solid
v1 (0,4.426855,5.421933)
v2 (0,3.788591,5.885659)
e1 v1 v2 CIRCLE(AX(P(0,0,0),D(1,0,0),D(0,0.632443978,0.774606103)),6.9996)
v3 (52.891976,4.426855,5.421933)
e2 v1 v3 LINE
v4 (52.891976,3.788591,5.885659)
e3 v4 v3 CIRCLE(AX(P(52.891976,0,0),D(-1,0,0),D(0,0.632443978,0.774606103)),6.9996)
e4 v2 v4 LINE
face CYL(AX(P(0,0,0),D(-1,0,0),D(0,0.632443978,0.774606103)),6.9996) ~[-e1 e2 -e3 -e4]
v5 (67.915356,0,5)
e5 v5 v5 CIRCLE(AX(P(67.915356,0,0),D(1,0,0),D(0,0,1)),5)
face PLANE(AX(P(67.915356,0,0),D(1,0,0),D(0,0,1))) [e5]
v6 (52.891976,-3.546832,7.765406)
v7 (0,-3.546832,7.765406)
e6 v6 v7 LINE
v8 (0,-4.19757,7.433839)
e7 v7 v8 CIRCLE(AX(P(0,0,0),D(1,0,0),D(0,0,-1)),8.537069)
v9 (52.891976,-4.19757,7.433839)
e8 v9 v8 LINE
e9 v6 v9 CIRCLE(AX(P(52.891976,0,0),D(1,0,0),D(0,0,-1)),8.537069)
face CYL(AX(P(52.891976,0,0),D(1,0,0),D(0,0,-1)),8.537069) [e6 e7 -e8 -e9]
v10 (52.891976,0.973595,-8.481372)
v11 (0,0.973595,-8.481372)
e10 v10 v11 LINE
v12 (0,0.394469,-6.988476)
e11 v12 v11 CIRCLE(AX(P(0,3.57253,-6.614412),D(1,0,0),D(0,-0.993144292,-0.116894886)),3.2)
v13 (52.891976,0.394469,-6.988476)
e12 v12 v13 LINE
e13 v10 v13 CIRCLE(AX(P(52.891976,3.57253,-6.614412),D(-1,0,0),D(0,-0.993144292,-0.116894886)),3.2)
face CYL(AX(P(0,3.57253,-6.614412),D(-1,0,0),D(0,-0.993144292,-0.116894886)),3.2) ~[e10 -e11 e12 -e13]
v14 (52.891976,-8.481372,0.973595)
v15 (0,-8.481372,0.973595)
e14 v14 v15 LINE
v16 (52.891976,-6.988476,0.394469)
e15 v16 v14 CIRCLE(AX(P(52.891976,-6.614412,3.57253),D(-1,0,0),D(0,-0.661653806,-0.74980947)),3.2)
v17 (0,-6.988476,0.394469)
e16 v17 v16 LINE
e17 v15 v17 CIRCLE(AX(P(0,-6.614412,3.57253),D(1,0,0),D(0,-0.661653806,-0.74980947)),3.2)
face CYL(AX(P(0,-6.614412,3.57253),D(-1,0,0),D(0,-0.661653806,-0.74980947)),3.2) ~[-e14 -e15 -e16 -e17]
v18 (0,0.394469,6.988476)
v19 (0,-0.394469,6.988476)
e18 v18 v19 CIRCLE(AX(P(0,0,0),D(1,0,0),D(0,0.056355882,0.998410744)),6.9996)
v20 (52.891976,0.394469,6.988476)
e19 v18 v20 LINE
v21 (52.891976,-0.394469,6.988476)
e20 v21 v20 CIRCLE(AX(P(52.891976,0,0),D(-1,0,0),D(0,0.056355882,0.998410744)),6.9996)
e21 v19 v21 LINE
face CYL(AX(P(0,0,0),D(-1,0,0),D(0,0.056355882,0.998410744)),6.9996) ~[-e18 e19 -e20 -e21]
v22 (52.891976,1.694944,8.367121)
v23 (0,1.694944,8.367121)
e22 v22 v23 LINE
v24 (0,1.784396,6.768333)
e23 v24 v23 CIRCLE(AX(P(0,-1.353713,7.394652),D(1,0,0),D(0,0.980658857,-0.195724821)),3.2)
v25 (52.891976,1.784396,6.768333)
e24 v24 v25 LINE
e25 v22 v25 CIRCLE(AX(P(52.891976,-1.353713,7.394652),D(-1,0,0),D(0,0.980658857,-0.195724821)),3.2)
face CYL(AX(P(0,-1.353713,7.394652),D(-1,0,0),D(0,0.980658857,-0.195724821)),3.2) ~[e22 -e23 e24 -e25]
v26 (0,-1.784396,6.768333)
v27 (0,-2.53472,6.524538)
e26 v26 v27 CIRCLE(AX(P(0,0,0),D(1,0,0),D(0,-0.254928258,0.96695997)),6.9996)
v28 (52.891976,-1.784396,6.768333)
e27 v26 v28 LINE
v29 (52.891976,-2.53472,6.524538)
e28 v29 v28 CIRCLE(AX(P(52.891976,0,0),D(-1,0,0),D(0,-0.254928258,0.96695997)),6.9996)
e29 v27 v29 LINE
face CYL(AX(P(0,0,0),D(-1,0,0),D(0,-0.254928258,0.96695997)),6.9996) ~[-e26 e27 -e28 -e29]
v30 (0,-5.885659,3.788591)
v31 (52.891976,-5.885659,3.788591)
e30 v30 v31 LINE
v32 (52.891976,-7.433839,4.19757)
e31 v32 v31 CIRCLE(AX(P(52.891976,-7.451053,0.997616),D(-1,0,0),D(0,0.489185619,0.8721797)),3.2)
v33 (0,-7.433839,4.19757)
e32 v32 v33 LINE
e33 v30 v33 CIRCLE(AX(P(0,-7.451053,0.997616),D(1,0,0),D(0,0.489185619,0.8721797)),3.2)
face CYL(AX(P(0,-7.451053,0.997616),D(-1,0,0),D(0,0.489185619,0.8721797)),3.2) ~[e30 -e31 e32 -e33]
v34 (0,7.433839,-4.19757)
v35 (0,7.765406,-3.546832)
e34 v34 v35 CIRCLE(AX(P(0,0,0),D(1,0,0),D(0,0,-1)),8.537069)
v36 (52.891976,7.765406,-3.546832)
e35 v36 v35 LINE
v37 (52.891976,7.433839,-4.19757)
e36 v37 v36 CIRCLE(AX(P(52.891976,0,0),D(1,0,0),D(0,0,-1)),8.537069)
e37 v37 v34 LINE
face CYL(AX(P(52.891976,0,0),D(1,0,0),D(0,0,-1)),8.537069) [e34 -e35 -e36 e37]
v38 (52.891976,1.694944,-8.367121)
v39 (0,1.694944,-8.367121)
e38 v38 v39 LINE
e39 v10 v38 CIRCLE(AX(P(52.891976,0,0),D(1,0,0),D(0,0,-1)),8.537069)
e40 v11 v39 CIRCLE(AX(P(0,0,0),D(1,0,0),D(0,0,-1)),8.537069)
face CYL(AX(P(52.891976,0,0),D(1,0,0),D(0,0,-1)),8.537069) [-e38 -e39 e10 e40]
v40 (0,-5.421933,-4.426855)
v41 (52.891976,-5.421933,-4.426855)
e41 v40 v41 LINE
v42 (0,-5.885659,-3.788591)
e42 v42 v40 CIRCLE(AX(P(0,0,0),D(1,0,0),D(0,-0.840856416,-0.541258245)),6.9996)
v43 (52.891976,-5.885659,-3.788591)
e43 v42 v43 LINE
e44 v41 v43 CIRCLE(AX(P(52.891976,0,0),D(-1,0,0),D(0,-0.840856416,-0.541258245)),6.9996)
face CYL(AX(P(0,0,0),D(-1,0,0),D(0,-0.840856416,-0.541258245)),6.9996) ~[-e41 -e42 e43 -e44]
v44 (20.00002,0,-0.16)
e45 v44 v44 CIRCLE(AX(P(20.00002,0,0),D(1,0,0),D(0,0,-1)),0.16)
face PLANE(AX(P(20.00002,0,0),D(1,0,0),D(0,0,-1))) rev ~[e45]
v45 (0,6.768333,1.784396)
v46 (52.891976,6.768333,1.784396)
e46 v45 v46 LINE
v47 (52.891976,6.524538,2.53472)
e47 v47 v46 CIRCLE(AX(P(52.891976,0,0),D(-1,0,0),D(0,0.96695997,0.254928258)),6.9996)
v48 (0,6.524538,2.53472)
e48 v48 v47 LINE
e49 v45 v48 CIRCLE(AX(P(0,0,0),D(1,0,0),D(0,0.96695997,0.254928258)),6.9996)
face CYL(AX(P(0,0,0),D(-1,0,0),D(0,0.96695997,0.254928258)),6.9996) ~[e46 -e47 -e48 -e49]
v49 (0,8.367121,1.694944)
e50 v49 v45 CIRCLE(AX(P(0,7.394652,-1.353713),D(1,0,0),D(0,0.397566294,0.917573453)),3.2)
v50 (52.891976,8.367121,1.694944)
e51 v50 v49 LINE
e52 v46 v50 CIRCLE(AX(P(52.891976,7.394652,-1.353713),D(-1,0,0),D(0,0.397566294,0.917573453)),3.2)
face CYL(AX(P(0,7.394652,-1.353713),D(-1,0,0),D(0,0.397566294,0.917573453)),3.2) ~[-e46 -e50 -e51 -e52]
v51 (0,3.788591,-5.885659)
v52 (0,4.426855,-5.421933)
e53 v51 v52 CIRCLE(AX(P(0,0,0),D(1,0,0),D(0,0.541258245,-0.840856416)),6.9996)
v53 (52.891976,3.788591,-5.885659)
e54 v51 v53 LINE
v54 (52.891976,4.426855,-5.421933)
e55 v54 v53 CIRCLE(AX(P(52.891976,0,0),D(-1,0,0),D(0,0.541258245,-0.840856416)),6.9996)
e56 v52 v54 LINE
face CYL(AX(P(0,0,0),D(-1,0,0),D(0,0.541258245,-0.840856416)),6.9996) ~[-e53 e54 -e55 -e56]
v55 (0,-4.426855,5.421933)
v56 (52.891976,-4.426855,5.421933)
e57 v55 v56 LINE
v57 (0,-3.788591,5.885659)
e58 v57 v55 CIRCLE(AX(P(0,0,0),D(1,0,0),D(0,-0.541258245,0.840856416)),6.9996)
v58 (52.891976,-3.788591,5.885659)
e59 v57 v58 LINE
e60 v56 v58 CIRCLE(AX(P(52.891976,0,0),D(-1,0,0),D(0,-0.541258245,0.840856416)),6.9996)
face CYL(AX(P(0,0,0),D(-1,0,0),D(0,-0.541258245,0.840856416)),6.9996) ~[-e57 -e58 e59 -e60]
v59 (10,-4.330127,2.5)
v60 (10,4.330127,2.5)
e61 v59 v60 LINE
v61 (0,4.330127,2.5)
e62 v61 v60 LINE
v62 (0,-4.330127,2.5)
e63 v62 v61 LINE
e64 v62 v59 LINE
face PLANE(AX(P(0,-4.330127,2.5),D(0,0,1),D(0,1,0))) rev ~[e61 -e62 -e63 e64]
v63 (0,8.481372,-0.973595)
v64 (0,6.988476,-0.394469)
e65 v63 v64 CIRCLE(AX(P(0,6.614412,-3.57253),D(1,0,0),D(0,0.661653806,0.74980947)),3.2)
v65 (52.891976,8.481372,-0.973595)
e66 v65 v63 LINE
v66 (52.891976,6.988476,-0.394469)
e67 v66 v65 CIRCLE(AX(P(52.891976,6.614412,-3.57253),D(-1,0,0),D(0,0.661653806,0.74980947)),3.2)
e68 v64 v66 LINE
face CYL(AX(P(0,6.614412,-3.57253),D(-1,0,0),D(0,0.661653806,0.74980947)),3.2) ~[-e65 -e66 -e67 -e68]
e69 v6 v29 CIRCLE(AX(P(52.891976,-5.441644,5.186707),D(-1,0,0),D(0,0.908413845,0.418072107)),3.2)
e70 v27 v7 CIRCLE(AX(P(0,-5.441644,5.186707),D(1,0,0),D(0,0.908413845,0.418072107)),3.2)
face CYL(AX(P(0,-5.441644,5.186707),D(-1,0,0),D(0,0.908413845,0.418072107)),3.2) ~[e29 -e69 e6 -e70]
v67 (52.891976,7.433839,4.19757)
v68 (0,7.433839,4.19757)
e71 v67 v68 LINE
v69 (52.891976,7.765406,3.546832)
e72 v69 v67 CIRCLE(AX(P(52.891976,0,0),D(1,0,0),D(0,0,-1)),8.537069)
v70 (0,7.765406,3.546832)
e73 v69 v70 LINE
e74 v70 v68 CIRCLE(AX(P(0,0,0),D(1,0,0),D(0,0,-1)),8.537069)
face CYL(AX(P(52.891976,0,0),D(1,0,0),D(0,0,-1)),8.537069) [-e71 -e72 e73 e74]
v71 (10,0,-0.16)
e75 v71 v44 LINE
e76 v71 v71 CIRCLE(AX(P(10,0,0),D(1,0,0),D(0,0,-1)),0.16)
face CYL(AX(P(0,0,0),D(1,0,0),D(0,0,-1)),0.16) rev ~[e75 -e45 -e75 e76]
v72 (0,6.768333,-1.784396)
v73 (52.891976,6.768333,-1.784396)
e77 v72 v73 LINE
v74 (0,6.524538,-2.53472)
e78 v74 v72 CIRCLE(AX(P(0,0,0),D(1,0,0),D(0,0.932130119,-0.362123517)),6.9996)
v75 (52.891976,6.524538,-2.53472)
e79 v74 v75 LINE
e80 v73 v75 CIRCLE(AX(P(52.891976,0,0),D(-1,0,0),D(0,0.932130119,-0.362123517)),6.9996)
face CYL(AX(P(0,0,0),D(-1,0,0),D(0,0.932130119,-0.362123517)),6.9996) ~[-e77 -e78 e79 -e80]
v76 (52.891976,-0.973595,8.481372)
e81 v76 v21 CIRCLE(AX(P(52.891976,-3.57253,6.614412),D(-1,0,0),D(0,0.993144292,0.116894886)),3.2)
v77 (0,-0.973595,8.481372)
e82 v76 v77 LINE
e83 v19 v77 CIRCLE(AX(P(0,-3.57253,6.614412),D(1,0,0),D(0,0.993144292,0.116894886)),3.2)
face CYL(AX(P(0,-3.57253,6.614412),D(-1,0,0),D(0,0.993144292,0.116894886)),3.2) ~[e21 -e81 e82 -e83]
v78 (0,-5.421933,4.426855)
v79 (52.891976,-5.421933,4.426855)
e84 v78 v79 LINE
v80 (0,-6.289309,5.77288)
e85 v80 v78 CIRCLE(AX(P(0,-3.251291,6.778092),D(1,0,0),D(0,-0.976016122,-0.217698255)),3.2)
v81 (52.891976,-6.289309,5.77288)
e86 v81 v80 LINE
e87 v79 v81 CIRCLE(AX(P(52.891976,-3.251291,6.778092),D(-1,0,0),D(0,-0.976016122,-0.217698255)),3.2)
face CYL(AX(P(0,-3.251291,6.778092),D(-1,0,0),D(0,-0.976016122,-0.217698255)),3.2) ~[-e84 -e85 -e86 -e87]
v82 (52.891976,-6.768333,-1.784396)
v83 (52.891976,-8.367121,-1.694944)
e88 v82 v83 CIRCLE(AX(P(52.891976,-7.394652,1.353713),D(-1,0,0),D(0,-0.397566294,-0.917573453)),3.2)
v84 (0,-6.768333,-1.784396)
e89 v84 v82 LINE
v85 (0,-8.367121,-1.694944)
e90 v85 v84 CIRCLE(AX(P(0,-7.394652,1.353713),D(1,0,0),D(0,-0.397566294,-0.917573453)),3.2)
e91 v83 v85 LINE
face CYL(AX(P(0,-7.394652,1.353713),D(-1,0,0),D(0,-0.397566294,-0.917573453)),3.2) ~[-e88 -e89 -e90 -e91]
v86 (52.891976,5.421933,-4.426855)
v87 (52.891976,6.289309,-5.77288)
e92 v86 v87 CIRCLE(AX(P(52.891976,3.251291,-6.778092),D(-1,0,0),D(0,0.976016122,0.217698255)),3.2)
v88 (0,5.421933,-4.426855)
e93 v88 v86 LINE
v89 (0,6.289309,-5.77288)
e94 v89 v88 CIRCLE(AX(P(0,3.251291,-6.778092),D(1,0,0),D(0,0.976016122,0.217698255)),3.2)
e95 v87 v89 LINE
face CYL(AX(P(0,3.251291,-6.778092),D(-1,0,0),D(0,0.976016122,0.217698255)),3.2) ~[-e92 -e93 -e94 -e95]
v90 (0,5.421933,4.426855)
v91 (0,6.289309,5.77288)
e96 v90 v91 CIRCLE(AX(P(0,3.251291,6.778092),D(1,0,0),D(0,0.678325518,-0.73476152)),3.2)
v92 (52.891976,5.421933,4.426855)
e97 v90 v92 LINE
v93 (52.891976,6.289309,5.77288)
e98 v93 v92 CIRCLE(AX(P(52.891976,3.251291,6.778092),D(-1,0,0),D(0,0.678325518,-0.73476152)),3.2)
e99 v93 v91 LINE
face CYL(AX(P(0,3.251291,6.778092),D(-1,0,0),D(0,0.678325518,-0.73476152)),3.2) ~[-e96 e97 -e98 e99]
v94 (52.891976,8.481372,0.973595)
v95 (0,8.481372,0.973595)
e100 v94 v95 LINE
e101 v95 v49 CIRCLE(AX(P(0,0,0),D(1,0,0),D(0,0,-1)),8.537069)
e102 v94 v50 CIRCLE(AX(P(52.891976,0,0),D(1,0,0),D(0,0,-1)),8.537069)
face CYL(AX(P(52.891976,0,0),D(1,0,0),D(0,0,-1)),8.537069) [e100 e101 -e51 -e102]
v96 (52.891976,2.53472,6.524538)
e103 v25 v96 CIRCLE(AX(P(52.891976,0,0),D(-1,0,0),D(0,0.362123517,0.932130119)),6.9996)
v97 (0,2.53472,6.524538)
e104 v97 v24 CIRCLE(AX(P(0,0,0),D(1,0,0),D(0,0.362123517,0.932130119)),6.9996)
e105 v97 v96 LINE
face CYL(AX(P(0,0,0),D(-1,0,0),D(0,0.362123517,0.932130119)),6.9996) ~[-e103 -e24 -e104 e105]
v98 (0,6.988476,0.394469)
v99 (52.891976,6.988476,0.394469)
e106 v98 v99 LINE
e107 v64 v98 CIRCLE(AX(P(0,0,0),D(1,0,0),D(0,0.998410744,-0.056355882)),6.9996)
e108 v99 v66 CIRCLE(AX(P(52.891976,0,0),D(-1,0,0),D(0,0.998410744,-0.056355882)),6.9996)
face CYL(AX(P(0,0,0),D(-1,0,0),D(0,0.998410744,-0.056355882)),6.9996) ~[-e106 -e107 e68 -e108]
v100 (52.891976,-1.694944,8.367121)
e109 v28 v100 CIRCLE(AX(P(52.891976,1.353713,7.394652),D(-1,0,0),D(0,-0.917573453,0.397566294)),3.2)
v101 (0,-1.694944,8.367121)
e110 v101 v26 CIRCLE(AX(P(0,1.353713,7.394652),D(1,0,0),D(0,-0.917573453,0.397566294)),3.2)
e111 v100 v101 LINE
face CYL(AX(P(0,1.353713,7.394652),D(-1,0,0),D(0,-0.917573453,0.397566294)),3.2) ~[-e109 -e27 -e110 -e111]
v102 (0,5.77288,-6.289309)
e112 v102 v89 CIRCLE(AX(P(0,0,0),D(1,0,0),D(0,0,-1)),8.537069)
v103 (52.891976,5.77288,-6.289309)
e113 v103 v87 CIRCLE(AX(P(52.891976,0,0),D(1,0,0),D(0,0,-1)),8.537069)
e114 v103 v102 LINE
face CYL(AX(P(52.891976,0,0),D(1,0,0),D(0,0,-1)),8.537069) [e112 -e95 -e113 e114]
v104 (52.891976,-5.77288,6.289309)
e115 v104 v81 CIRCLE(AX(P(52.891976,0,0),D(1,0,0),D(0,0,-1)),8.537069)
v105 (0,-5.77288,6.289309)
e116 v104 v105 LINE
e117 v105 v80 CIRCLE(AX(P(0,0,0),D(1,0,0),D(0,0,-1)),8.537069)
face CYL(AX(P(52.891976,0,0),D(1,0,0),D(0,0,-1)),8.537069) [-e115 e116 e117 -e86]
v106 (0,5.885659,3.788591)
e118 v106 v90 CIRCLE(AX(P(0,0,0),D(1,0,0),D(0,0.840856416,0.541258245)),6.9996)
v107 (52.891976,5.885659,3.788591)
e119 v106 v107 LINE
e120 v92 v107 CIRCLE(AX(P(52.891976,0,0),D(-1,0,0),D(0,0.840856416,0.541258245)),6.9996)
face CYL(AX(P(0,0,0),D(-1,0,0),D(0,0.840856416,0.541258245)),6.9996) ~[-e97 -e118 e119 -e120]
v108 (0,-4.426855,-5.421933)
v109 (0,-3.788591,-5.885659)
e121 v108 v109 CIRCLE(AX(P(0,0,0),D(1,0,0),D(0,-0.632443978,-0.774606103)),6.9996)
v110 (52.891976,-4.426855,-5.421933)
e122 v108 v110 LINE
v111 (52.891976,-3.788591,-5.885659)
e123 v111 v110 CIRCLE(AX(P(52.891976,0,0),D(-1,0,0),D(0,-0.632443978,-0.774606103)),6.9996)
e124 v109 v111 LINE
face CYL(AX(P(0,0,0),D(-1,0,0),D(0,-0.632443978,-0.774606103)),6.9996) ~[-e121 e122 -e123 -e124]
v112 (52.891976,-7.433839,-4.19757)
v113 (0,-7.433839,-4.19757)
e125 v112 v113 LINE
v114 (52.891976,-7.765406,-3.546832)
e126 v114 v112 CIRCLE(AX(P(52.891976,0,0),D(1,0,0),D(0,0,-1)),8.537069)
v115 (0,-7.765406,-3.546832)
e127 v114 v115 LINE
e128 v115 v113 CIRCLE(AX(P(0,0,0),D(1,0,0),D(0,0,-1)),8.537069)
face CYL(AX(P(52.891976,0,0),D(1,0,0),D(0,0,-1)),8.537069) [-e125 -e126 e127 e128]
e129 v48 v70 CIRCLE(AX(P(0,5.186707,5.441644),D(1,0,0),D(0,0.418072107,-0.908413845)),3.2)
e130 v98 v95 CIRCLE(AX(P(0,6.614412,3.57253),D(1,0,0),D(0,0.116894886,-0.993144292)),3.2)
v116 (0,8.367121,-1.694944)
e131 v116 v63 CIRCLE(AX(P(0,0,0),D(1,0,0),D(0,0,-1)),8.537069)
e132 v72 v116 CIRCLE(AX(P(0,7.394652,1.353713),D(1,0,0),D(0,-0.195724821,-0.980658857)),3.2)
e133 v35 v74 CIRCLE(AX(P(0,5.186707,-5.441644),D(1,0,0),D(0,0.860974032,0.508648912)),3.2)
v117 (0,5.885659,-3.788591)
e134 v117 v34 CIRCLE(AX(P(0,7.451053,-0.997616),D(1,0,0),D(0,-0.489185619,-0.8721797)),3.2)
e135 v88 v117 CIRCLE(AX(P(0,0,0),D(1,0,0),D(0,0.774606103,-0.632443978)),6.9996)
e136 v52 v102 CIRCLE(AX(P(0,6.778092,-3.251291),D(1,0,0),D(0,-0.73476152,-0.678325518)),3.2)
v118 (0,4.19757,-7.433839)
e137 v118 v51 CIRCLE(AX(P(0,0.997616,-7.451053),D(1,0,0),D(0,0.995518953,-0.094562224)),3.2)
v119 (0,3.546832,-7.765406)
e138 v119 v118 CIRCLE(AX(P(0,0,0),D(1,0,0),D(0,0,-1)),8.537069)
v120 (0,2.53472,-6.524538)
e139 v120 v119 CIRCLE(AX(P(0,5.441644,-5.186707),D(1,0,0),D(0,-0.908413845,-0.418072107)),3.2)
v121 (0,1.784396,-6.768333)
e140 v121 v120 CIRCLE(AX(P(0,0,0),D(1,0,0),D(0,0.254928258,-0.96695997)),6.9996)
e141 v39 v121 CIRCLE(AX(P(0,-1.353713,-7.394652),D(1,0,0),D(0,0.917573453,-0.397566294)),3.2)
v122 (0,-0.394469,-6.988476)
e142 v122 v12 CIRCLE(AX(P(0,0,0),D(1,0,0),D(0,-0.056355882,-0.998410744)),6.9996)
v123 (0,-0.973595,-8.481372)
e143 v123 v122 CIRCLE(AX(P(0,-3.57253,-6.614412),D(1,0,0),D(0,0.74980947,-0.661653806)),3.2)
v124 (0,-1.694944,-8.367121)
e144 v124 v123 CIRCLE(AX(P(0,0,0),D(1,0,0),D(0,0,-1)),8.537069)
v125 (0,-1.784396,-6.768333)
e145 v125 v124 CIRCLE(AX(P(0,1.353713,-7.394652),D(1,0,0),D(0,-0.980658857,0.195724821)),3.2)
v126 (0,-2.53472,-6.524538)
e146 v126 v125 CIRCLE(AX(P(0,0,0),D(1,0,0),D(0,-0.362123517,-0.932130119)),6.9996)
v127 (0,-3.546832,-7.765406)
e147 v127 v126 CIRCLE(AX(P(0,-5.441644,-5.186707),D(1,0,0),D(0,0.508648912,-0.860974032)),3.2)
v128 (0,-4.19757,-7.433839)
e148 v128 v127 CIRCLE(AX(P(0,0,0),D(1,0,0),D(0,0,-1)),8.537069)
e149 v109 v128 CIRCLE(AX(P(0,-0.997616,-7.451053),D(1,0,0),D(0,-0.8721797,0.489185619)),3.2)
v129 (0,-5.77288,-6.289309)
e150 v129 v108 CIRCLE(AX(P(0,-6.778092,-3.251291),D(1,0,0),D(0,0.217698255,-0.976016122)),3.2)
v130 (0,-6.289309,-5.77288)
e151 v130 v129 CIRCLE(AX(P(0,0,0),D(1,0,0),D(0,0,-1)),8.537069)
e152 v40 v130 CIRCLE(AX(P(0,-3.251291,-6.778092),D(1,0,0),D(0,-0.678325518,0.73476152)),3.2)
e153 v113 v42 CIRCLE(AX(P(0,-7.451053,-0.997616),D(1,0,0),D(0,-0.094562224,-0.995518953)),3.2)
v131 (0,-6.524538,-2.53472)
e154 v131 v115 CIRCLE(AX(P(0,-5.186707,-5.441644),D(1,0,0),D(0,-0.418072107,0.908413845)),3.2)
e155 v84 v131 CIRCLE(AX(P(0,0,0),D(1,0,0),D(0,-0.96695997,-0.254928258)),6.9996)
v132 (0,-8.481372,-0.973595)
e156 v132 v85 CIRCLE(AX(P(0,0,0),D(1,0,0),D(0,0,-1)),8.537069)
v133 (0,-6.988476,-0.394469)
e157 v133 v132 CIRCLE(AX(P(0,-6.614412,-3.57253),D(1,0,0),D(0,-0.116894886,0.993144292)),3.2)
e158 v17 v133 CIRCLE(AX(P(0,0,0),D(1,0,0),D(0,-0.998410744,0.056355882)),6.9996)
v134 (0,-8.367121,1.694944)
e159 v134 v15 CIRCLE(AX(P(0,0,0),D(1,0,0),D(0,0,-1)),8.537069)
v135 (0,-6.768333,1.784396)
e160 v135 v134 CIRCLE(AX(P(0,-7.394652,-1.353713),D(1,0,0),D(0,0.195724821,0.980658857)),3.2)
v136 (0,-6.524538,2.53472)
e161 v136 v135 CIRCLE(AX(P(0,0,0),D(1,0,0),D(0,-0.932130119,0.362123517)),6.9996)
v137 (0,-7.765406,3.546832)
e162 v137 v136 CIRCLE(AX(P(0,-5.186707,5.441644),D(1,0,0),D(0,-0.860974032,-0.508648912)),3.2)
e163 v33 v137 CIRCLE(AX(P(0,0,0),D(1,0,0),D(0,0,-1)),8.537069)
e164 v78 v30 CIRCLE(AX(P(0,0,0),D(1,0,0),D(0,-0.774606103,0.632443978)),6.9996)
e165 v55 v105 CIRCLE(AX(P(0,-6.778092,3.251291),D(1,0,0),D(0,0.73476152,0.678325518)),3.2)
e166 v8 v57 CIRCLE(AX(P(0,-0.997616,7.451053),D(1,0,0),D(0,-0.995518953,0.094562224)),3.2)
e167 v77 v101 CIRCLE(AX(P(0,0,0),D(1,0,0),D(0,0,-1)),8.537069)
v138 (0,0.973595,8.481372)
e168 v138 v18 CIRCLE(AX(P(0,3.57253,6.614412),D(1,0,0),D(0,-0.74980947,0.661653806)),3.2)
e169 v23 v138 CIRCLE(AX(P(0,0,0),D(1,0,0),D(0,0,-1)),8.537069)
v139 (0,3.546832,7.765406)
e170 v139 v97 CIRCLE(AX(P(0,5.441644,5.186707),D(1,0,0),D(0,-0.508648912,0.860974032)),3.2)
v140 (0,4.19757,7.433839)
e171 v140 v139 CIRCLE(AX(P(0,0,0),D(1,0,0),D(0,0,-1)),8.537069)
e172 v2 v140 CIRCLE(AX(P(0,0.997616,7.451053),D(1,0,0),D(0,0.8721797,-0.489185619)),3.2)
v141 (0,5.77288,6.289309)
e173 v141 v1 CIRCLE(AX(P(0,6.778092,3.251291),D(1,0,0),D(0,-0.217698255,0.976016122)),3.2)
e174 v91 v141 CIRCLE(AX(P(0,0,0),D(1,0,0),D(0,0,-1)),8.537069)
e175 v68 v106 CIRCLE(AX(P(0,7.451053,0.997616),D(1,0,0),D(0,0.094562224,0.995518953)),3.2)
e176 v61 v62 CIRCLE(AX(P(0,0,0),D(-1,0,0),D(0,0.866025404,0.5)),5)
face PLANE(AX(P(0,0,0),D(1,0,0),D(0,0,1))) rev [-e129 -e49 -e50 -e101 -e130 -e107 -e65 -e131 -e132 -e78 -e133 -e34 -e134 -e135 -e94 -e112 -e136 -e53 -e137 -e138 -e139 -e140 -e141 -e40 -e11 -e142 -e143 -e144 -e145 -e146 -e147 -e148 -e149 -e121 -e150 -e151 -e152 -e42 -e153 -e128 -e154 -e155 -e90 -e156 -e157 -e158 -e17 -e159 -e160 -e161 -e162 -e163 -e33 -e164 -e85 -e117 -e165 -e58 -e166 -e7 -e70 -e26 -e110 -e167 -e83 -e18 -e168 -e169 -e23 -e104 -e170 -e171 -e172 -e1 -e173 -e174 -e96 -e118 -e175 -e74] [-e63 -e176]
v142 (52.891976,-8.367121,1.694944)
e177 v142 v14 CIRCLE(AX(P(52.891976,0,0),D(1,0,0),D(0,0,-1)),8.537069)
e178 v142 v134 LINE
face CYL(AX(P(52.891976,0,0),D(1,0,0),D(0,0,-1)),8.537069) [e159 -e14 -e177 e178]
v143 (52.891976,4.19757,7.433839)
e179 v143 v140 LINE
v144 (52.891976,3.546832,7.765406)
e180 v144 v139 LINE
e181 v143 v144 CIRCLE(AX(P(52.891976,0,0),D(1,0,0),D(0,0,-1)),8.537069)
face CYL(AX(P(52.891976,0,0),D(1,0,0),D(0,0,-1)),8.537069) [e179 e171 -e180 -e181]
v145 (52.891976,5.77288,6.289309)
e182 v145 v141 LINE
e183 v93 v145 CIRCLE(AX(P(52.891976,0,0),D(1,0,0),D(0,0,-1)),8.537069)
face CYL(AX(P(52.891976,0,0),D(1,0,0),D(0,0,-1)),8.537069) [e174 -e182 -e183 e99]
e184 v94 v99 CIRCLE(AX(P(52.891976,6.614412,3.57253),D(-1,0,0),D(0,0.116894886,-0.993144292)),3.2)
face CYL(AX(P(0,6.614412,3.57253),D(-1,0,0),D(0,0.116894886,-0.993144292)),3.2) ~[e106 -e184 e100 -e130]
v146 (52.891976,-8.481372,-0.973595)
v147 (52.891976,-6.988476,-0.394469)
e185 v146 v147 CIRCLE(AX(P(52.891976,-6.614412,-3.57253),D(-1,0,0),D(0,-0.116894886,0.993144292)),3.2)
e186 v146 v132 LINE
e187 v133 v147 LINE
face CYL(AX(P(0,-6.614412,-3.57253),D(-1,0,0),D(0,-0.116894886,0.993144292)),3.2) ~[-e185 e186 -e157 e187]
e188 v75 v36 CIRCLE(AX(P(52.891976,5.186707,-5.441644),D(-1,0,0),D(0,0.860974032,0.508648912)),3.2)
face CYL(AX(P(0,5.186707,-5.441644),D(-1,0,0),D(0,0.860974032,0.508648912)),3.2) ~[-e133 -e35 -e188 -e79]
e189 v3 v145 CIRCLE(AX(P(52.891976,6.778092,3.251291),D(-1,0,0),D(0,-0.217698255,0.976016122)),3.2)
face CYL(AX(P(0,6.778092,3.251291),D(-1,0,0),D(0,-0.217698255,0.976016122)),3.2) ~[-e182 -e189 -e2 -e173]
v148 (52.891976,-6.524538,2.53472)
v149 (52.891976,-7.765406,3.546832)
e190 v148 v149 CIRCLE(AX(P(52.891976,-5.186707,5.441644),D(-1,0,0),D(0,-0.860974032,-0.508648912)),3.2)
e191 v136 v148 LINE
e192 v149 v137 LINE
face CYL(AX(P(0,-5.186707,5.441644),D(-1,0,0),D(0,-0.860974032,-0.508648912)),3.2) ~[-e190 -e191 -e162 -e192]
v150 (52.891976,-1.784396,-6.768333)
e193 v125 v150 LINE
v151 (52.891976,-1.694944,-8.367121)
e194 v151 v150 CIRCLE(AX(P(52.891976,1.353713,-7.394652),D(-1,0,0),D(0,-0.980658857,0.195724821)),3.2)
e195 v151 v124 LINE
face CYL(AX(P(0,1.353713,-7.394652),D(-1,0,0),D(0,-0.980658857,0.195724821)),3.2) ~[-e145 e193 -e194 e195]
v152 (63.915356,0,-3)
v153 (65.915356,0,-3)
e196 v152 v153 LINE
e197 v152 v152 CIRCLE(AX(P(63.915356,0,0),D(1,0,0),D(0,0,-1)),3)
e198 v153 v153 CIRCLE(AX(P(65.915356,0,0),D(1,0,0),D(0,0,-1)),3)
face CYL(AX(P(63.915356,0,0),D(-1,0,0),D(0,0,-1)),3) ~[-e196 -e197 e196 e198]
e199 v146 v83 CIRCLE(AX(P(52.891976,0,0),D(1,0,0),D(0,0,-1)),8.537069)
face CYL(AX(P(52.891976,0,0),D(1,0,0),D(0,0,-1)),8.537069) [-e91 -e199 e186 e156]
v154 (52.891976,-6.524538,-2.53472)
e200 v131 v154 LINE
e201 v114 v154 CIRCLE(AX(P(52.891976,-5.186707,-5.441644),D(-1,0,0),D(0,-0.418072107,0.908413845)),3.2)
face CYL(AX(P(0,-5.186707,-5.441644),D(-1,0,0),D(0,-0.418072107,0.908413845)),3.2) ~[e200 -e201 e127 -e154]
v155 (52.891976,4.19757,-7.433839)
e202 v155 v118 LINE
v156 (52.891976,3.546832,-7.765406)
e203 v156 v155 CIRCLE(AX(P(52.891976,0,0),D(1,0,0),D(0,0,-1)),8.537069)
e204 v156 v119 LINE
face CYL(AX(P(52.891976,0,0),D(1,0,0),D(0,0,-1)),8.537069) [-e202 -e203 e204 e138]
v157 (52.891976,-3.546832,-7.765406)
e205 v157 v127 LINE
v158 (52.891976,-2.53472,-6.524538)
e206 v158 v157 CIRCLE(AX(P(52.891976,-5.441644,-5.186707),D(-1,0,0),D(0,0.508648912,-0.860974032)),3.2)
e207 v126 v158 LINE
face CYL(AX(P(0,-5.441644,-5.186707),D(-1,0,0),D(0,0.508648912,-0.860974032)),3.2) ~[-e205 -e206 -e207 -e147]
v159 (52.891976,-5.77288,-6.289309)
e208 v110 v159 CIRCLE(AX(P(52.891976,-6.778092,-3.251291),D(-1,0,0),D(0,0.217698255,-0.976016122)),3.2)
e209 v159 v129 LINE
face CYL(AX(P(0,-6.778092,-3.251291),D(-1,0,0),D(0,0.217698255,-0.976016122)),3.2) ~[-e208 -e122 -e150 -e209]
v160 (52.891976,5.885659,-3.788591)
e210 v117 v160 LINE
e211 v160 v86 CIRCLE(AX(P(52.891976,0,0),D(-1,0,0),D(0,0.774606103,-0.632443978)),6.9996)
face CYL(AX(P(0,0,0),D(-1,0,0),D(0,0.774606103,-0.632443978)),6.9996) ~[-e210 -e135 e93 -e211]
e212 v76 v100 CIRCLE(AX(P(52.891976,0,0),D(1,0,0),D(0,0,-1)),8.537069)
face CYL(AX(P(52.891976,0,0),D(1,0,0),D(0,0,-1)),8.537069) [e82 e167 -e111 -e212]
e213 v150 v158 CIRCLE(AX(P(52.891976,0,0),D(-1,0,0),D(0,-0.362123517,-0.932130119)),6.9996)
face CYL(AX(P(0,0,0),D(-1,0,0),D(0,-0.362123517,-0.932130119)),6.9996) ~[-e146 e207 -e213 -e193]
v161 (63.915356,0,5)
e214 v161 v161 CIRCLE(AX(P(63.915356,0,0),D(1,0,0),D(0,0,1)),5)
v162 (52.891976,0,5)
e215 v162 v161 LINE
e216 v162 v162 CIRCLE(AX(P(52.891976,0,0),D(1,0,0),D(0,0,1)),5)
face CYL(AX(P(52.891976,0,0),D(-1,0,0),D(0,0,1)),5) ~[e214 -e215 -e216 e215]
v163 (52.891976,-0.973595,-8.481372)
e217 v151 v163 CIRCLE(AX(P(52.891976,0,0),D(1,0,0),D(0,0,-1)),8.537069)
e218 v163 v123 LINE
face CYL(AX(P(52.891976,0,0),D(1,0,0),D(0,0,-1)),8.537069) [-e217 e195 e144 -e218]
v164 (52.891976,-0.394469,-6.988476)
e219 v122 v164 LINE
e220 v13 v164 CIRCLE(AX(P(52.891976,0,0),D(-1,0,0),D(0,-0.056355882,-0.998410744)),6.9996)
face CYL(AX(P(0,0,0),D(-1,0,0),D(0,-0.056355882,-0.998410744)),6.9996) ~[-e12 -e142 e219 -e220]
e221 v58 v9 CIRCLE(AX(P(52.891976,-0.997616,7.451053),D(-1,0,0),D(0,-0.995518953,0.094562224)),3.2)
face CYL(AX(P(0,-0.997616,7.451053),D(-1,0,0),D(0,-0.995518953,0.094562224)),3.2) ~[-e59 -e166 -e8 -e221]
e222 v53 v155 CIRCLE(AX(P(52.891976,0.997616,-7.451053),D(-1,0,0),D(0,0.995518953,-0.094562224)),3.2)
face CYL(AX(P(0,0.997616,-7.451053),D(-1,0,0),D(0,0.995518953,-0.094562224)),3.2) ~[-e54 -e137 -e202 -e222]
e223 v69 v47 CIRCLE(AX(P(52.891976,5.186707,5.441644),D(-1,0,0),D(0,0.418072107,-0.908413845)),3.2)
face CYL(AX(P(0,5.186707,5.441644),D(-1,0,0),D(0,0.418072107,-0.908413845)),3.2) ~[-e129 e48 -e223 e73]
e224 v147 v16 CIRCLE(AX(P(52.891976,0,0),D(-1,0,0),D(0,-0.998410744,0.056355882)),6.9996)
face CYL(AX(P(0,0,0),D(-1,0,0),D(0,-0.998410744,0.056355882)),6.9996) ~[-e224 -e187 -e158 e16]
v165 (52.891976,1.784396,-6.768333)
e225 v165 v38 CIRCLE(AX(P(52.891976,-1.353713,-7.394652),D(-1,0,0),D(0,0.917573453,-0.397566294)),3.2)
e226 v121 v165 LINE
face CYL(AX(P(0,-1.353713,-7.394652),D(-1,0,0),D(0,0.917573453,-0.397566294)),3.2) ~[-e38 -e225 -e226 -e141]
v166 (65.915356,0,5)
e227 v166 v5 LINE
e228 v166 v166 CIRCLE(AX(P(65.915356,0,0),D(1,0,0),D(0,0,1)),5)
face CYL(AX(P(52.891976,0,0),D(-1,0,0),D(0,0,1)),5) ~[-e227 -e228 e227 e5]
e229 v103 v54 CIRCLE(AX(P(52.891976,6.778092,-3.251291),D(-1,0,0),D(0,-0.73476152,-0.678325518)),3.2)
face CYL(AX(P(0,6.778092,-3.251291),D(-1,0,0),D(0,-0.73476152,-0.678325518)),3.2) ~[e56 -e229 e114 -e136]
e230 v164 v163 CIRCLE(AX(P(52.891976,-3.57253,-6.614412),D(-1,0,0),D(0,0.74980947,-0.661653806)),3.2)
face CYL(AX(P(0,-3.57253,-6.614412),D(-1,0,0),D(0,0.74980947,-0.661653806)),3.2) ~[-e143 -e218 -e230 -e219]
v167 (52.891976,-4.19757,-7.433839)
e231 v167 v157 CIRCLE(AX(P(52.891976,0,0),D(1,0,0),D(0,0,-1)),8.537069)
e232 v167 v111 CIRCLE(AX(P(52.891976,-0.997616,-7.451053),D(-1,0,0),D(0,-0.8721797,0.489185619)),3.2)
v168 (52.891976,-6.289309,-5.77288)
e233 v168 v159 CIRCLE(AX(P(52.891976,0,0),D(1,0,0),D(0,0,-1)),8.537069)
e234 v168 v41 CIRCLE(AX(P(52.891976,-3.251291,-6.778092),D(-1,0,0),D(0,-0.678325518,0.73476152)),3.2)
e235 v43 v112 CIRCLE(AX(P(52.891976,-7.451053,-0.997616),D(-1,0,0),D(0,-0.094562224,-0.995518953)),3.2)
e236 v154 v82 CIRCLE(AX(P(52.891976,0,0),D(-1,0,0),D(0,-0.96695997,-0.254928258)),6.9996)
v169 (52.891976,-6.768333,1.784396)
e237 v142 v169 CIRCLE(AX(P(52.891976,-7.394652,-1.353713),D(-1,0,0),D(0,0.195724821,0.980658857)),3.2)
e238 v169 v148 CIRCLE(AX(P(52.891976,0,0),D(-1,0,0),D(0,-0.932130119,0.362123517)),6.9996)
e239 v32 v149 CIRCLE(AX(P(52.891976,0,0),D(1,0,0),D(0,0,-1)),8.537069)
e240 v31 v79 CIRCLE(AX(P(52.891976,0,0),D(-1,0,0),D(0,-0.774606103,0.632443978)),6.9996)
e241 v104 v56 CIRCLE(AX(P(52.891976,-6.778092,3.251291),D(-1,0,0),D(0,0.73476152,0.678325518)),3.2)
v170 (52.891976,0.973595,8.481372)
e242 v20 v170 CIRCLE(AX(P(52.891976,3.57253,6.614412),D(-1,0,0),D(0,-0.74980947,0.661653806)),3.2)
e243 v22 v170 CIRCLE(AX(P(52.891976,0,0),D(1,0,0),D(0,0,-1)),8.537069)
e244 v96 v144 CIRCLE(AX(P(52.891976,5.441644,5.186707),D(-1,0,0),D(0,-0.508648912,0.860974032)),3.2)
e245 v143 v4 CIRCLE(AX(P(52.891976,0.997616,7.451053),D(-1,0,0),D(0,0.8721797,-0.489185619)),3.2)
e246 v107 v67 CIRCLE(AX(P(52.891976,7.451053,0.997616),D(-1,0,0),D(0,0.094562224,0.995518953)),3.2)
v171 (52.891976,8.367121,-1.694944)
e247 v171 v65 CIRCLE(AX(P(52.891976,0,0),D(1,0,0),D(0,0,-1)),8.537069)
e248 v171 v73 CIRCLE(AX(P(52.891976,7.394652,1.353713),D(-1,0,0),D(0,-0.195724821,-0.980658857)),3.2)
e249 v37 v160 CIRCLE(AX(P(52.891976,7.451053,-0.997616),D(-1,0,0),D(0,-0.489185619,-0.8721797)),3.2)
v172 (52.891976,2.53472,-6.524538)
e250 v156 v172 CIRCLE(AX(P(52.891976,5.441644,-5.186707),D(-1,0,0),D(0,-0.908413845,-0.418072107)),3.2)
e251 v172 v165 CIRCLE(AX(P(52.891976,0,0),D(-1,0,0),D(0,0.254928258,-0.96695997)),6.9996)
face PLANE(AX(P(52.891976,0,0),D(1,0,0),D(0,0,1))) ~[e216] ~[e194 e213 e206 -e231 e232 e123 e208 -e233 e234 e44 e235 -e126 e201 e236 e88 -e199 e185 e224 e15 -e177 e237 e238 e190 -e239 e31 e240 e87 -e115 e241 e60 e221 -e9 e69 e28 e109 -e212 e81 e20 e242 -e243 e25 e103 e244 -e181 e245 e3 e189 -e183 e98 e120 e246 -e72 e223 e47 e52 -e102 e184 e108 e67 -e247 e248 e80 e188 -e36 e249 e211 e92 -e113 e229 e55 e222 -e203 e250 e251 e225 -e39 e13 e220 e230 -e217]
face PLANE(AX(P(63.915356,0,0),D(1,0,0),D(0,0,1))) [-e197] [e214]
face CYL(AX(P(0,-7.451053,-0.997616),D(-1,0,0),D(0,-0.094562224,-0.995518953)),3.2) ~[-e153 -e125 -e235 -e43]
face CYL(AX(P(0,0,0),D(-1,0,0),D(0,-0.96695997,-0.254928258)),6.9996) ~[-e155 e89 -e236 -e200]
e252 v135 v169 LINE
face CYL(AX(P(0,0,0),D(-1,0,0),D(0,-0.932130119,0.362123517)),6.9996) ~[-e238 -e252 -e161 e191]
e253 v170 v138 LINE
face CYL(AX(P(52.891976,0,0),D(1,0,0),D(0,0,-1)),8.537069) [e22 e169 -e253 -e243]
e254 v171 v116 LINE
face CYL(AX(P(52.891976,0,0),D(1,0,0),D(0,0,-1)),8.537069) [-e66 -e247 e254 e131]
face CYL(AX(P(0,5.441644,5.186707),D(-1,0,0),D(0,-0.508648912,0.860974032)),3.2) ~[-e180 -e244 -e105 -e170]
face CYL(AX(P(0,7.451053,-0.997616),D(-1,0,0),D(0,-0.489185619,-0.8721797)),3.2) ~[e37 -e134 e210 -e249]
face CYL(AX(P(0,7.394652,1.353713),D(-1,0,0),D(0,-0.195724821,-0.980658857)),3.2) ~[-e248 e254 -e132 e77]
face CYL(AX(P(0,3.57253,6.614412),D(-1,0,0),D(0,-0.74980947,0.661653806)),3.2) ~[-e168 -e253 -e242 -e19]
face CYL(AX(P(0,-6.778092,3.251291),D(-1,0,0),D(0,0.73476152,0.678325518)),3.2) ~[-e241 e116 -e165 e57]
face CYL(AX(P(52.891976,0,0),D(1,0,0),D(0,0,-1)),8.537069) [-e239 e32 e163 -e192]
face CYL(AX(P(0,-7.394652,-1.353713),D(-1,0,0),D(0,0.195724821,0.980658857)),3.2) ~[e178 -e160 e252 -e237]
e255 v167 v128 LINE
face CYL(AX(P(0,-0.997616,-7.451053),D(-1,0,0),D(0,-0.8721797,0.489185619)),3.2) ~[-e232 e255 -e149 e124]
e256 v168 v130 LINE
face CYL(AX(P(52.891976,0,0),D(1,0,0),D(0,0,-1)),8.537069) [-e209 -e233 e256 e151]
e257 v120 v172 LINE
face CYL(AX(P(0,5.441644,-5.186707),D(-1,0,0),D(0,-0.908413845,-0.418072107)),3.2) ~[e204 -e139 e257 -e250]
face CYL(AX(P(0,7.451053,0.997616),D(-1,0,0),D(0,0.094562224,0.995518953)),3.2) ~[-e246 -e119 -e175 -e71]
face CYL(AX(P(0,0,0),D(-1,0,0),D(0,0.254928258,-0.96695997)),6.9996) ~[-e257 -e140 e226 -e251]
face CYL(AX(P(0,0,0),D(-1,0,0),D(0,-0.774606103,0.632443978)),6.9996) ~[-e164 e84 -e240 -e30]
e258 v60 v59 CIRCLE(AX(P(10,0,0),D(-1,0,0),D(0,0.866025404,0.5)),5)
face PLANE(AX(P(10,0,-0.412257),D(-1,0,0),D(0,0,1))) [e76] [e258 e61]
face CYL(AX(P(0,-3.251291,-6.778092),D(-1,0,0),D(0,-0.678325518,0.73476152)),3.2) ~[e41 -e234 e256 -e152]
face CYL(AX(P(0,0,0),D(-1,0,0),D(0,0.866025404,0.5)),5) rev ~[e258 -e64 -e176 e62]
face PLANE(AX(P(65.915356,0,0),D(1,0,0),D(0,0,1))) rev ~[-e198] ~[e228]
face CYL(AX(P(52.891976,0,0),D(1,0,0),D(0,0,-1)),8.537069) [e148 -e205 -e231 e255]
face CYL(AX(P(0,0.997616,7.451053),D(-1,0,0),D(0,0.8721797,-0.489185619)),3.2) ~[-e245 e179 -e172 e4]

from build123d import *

# Parameters (mm, degrees)
BASPROSKE_W         = 132.2299391
BASPROSKE_H         = 22
TOOTHCUT_DEPTH      = 136.840924593
TEETHCUTS_COUNT     = 20
TEETHCUTS_ANGLE     = 342
BORSKE_R            = 0.4
BORE_DEPTH          = 50.0000508
SKETCH1_R           = 22
SKETCH1_R_2         = 21.342673338
CUT_EXTRUDE1_DEPTH  = 136.778456297
SCALE1_SCALE        = 0.4
SKETCH6_R           = 5
BOSS_EXTRUDE3_DEPTH = 15.0233807
CUT_EXTRUDE2_DEPTH  = 10
CUT_EXTRUDE3_START  = -2
SKETCH8_R           = 5
SKETCH8_R_2         = 3
CUT_EXTRUDE3_DEPTH  = 2


with BuildPart() as part:
    # BasProSke → Base-Revolve (revolve)
    with BuildSketch(Plane(origin=(0, 0, 0), x_dir=(1, 0, 0), z_dir=(0, 1, 0)), mode=Mode.PRIVATE) as base_revolve_sk:
        with Locations((66.11496955, 11)):
            Rectangle(BASPROSKE_W, BASPROSKE_H)
    revolve(base_revolve_sk.sketch.rotate(Axis((-10, 0, 0), (1, 0, 0)), 180), axis=Axis((-10, 0, 0), (1, 0, 0)))

    # TooCutSke → ToothCut (cut, through all)
    with BuildSketch(Plane(origin=(0, 0, 0), x_dir=(0, 0, -1), z_dir=(1, 0, 0))):
        with BuildLine():
            ThreePointArc((0.986171591, 17.471189616), (0, 17.499), (-0.986171591, 17.471189616))
            ThreePointArc((-0.986171591, 17.471189616), (-1.626916196, 19.798789858), (-2.932850173, 21.829260982))
            ThreePointArc((-2.932850173, 21.829260982), (0, 22.0254), (2.932850173, 21.829260982))
            ThreePointArc((2.932850173, 21.829260982), (1.626916196, 19.798789858), (0.986171591, 17.471189616))
        make_face()
    toothcut = extrude(amount=TOOTHCUT_DEPTH, mode=Mode.SUBTRACT)

    # TeethCuts: ToothCut ×20 about axis
    teethcuts_axis = Axis((-10, 0, 0), (1, 0, 0))
    for i in range(1, TEETHCUTS_COUNT):
        add(toothcut.rotate(teethcuts_axis, i * TEETHCUTS_ANGLE / (TEETHCUTS_COUNT - 1)), mode=Mode.SUBTRACT)

    # BorSke → Bore (cut, symmetric)
    with BuildSketch(Plane(origin=(0, 0, 0), x_dir=(0, 0, -1), z_dir=(1, 0, 0))):
        Circle(BORSKE_R)
    extrude(amount=BORE_DEPTH, both=True, mode=Mode.SUBTRACT)

    # Sketch1 → Cut-Extrude1 (cut, through all)
    with BuildSketch(Plane(origin=(132.2299391, 0, 0), x_dir=(0, 0, -1), z_dir=(1, 0, 0))):
        Circle(SKETCH1_R)
        Circle(SKETCH1_R_2, mode=Mode.SUBTRACT)
    extrude(amount=-CUT_EXTRUDE1_DEPTH, mode=Mode.SUBTRACT)


with BuildPart() as part_1:
    # Scale1: scaled about (0, 0, 0)
    add(part.part.scale(SCALE1_SCALE))

    # Sketch6 → Boss-Extrude3 (add)
    with BuildSketch(Plane(origin=(52.89197564, 0, 0), x_dir=(0, 0, -1), z_dir=(1, 0, 0))):
        with Locations(Location((0, 0, 0), (0, 0, 180))):
            Circle(SKETCH6_R)
    extrude(amount=BOSS_EXTRUDE3_DEPTH)

    # Sketch7 → Cut-Extrude2 (cut)
    with BuildSketch(Plane.ZY):
        with BuildLine():
            Line((2.5, 0), (2.5, 4.330127019))
            ThreePointArc((2.5, 4.330127019), (-5, 0), (2.5, -4.330127019))
            Line((2.5, -4.330127019), (2.5, 0))
        make_face()
    extrude(amount=-CUT_EXTRUDE2_DEPTH, mode=Mode.SUBTRACT)

    # Sketch8 → Cut-Extrude3 (cut)
    with BuildSketch(Plane(origin=(65.91535634, 0, 0), x_dir=(0, 0, -1), z_dir=(1, 0, 0)).offset(CUT_EXTRUDE3_START)):
        with Locations(Location((0, 0, 0), (0, 0, 180))):
            Circle(SKETCH8_R)
        Circle(SKETCH8_R_2, mode=Mode.SUBTRACT)
    extrude(amount=CUT_EXTRUDE3_DEPTH, mode=Mode.SUBTRACT)


solid = part_1.part
